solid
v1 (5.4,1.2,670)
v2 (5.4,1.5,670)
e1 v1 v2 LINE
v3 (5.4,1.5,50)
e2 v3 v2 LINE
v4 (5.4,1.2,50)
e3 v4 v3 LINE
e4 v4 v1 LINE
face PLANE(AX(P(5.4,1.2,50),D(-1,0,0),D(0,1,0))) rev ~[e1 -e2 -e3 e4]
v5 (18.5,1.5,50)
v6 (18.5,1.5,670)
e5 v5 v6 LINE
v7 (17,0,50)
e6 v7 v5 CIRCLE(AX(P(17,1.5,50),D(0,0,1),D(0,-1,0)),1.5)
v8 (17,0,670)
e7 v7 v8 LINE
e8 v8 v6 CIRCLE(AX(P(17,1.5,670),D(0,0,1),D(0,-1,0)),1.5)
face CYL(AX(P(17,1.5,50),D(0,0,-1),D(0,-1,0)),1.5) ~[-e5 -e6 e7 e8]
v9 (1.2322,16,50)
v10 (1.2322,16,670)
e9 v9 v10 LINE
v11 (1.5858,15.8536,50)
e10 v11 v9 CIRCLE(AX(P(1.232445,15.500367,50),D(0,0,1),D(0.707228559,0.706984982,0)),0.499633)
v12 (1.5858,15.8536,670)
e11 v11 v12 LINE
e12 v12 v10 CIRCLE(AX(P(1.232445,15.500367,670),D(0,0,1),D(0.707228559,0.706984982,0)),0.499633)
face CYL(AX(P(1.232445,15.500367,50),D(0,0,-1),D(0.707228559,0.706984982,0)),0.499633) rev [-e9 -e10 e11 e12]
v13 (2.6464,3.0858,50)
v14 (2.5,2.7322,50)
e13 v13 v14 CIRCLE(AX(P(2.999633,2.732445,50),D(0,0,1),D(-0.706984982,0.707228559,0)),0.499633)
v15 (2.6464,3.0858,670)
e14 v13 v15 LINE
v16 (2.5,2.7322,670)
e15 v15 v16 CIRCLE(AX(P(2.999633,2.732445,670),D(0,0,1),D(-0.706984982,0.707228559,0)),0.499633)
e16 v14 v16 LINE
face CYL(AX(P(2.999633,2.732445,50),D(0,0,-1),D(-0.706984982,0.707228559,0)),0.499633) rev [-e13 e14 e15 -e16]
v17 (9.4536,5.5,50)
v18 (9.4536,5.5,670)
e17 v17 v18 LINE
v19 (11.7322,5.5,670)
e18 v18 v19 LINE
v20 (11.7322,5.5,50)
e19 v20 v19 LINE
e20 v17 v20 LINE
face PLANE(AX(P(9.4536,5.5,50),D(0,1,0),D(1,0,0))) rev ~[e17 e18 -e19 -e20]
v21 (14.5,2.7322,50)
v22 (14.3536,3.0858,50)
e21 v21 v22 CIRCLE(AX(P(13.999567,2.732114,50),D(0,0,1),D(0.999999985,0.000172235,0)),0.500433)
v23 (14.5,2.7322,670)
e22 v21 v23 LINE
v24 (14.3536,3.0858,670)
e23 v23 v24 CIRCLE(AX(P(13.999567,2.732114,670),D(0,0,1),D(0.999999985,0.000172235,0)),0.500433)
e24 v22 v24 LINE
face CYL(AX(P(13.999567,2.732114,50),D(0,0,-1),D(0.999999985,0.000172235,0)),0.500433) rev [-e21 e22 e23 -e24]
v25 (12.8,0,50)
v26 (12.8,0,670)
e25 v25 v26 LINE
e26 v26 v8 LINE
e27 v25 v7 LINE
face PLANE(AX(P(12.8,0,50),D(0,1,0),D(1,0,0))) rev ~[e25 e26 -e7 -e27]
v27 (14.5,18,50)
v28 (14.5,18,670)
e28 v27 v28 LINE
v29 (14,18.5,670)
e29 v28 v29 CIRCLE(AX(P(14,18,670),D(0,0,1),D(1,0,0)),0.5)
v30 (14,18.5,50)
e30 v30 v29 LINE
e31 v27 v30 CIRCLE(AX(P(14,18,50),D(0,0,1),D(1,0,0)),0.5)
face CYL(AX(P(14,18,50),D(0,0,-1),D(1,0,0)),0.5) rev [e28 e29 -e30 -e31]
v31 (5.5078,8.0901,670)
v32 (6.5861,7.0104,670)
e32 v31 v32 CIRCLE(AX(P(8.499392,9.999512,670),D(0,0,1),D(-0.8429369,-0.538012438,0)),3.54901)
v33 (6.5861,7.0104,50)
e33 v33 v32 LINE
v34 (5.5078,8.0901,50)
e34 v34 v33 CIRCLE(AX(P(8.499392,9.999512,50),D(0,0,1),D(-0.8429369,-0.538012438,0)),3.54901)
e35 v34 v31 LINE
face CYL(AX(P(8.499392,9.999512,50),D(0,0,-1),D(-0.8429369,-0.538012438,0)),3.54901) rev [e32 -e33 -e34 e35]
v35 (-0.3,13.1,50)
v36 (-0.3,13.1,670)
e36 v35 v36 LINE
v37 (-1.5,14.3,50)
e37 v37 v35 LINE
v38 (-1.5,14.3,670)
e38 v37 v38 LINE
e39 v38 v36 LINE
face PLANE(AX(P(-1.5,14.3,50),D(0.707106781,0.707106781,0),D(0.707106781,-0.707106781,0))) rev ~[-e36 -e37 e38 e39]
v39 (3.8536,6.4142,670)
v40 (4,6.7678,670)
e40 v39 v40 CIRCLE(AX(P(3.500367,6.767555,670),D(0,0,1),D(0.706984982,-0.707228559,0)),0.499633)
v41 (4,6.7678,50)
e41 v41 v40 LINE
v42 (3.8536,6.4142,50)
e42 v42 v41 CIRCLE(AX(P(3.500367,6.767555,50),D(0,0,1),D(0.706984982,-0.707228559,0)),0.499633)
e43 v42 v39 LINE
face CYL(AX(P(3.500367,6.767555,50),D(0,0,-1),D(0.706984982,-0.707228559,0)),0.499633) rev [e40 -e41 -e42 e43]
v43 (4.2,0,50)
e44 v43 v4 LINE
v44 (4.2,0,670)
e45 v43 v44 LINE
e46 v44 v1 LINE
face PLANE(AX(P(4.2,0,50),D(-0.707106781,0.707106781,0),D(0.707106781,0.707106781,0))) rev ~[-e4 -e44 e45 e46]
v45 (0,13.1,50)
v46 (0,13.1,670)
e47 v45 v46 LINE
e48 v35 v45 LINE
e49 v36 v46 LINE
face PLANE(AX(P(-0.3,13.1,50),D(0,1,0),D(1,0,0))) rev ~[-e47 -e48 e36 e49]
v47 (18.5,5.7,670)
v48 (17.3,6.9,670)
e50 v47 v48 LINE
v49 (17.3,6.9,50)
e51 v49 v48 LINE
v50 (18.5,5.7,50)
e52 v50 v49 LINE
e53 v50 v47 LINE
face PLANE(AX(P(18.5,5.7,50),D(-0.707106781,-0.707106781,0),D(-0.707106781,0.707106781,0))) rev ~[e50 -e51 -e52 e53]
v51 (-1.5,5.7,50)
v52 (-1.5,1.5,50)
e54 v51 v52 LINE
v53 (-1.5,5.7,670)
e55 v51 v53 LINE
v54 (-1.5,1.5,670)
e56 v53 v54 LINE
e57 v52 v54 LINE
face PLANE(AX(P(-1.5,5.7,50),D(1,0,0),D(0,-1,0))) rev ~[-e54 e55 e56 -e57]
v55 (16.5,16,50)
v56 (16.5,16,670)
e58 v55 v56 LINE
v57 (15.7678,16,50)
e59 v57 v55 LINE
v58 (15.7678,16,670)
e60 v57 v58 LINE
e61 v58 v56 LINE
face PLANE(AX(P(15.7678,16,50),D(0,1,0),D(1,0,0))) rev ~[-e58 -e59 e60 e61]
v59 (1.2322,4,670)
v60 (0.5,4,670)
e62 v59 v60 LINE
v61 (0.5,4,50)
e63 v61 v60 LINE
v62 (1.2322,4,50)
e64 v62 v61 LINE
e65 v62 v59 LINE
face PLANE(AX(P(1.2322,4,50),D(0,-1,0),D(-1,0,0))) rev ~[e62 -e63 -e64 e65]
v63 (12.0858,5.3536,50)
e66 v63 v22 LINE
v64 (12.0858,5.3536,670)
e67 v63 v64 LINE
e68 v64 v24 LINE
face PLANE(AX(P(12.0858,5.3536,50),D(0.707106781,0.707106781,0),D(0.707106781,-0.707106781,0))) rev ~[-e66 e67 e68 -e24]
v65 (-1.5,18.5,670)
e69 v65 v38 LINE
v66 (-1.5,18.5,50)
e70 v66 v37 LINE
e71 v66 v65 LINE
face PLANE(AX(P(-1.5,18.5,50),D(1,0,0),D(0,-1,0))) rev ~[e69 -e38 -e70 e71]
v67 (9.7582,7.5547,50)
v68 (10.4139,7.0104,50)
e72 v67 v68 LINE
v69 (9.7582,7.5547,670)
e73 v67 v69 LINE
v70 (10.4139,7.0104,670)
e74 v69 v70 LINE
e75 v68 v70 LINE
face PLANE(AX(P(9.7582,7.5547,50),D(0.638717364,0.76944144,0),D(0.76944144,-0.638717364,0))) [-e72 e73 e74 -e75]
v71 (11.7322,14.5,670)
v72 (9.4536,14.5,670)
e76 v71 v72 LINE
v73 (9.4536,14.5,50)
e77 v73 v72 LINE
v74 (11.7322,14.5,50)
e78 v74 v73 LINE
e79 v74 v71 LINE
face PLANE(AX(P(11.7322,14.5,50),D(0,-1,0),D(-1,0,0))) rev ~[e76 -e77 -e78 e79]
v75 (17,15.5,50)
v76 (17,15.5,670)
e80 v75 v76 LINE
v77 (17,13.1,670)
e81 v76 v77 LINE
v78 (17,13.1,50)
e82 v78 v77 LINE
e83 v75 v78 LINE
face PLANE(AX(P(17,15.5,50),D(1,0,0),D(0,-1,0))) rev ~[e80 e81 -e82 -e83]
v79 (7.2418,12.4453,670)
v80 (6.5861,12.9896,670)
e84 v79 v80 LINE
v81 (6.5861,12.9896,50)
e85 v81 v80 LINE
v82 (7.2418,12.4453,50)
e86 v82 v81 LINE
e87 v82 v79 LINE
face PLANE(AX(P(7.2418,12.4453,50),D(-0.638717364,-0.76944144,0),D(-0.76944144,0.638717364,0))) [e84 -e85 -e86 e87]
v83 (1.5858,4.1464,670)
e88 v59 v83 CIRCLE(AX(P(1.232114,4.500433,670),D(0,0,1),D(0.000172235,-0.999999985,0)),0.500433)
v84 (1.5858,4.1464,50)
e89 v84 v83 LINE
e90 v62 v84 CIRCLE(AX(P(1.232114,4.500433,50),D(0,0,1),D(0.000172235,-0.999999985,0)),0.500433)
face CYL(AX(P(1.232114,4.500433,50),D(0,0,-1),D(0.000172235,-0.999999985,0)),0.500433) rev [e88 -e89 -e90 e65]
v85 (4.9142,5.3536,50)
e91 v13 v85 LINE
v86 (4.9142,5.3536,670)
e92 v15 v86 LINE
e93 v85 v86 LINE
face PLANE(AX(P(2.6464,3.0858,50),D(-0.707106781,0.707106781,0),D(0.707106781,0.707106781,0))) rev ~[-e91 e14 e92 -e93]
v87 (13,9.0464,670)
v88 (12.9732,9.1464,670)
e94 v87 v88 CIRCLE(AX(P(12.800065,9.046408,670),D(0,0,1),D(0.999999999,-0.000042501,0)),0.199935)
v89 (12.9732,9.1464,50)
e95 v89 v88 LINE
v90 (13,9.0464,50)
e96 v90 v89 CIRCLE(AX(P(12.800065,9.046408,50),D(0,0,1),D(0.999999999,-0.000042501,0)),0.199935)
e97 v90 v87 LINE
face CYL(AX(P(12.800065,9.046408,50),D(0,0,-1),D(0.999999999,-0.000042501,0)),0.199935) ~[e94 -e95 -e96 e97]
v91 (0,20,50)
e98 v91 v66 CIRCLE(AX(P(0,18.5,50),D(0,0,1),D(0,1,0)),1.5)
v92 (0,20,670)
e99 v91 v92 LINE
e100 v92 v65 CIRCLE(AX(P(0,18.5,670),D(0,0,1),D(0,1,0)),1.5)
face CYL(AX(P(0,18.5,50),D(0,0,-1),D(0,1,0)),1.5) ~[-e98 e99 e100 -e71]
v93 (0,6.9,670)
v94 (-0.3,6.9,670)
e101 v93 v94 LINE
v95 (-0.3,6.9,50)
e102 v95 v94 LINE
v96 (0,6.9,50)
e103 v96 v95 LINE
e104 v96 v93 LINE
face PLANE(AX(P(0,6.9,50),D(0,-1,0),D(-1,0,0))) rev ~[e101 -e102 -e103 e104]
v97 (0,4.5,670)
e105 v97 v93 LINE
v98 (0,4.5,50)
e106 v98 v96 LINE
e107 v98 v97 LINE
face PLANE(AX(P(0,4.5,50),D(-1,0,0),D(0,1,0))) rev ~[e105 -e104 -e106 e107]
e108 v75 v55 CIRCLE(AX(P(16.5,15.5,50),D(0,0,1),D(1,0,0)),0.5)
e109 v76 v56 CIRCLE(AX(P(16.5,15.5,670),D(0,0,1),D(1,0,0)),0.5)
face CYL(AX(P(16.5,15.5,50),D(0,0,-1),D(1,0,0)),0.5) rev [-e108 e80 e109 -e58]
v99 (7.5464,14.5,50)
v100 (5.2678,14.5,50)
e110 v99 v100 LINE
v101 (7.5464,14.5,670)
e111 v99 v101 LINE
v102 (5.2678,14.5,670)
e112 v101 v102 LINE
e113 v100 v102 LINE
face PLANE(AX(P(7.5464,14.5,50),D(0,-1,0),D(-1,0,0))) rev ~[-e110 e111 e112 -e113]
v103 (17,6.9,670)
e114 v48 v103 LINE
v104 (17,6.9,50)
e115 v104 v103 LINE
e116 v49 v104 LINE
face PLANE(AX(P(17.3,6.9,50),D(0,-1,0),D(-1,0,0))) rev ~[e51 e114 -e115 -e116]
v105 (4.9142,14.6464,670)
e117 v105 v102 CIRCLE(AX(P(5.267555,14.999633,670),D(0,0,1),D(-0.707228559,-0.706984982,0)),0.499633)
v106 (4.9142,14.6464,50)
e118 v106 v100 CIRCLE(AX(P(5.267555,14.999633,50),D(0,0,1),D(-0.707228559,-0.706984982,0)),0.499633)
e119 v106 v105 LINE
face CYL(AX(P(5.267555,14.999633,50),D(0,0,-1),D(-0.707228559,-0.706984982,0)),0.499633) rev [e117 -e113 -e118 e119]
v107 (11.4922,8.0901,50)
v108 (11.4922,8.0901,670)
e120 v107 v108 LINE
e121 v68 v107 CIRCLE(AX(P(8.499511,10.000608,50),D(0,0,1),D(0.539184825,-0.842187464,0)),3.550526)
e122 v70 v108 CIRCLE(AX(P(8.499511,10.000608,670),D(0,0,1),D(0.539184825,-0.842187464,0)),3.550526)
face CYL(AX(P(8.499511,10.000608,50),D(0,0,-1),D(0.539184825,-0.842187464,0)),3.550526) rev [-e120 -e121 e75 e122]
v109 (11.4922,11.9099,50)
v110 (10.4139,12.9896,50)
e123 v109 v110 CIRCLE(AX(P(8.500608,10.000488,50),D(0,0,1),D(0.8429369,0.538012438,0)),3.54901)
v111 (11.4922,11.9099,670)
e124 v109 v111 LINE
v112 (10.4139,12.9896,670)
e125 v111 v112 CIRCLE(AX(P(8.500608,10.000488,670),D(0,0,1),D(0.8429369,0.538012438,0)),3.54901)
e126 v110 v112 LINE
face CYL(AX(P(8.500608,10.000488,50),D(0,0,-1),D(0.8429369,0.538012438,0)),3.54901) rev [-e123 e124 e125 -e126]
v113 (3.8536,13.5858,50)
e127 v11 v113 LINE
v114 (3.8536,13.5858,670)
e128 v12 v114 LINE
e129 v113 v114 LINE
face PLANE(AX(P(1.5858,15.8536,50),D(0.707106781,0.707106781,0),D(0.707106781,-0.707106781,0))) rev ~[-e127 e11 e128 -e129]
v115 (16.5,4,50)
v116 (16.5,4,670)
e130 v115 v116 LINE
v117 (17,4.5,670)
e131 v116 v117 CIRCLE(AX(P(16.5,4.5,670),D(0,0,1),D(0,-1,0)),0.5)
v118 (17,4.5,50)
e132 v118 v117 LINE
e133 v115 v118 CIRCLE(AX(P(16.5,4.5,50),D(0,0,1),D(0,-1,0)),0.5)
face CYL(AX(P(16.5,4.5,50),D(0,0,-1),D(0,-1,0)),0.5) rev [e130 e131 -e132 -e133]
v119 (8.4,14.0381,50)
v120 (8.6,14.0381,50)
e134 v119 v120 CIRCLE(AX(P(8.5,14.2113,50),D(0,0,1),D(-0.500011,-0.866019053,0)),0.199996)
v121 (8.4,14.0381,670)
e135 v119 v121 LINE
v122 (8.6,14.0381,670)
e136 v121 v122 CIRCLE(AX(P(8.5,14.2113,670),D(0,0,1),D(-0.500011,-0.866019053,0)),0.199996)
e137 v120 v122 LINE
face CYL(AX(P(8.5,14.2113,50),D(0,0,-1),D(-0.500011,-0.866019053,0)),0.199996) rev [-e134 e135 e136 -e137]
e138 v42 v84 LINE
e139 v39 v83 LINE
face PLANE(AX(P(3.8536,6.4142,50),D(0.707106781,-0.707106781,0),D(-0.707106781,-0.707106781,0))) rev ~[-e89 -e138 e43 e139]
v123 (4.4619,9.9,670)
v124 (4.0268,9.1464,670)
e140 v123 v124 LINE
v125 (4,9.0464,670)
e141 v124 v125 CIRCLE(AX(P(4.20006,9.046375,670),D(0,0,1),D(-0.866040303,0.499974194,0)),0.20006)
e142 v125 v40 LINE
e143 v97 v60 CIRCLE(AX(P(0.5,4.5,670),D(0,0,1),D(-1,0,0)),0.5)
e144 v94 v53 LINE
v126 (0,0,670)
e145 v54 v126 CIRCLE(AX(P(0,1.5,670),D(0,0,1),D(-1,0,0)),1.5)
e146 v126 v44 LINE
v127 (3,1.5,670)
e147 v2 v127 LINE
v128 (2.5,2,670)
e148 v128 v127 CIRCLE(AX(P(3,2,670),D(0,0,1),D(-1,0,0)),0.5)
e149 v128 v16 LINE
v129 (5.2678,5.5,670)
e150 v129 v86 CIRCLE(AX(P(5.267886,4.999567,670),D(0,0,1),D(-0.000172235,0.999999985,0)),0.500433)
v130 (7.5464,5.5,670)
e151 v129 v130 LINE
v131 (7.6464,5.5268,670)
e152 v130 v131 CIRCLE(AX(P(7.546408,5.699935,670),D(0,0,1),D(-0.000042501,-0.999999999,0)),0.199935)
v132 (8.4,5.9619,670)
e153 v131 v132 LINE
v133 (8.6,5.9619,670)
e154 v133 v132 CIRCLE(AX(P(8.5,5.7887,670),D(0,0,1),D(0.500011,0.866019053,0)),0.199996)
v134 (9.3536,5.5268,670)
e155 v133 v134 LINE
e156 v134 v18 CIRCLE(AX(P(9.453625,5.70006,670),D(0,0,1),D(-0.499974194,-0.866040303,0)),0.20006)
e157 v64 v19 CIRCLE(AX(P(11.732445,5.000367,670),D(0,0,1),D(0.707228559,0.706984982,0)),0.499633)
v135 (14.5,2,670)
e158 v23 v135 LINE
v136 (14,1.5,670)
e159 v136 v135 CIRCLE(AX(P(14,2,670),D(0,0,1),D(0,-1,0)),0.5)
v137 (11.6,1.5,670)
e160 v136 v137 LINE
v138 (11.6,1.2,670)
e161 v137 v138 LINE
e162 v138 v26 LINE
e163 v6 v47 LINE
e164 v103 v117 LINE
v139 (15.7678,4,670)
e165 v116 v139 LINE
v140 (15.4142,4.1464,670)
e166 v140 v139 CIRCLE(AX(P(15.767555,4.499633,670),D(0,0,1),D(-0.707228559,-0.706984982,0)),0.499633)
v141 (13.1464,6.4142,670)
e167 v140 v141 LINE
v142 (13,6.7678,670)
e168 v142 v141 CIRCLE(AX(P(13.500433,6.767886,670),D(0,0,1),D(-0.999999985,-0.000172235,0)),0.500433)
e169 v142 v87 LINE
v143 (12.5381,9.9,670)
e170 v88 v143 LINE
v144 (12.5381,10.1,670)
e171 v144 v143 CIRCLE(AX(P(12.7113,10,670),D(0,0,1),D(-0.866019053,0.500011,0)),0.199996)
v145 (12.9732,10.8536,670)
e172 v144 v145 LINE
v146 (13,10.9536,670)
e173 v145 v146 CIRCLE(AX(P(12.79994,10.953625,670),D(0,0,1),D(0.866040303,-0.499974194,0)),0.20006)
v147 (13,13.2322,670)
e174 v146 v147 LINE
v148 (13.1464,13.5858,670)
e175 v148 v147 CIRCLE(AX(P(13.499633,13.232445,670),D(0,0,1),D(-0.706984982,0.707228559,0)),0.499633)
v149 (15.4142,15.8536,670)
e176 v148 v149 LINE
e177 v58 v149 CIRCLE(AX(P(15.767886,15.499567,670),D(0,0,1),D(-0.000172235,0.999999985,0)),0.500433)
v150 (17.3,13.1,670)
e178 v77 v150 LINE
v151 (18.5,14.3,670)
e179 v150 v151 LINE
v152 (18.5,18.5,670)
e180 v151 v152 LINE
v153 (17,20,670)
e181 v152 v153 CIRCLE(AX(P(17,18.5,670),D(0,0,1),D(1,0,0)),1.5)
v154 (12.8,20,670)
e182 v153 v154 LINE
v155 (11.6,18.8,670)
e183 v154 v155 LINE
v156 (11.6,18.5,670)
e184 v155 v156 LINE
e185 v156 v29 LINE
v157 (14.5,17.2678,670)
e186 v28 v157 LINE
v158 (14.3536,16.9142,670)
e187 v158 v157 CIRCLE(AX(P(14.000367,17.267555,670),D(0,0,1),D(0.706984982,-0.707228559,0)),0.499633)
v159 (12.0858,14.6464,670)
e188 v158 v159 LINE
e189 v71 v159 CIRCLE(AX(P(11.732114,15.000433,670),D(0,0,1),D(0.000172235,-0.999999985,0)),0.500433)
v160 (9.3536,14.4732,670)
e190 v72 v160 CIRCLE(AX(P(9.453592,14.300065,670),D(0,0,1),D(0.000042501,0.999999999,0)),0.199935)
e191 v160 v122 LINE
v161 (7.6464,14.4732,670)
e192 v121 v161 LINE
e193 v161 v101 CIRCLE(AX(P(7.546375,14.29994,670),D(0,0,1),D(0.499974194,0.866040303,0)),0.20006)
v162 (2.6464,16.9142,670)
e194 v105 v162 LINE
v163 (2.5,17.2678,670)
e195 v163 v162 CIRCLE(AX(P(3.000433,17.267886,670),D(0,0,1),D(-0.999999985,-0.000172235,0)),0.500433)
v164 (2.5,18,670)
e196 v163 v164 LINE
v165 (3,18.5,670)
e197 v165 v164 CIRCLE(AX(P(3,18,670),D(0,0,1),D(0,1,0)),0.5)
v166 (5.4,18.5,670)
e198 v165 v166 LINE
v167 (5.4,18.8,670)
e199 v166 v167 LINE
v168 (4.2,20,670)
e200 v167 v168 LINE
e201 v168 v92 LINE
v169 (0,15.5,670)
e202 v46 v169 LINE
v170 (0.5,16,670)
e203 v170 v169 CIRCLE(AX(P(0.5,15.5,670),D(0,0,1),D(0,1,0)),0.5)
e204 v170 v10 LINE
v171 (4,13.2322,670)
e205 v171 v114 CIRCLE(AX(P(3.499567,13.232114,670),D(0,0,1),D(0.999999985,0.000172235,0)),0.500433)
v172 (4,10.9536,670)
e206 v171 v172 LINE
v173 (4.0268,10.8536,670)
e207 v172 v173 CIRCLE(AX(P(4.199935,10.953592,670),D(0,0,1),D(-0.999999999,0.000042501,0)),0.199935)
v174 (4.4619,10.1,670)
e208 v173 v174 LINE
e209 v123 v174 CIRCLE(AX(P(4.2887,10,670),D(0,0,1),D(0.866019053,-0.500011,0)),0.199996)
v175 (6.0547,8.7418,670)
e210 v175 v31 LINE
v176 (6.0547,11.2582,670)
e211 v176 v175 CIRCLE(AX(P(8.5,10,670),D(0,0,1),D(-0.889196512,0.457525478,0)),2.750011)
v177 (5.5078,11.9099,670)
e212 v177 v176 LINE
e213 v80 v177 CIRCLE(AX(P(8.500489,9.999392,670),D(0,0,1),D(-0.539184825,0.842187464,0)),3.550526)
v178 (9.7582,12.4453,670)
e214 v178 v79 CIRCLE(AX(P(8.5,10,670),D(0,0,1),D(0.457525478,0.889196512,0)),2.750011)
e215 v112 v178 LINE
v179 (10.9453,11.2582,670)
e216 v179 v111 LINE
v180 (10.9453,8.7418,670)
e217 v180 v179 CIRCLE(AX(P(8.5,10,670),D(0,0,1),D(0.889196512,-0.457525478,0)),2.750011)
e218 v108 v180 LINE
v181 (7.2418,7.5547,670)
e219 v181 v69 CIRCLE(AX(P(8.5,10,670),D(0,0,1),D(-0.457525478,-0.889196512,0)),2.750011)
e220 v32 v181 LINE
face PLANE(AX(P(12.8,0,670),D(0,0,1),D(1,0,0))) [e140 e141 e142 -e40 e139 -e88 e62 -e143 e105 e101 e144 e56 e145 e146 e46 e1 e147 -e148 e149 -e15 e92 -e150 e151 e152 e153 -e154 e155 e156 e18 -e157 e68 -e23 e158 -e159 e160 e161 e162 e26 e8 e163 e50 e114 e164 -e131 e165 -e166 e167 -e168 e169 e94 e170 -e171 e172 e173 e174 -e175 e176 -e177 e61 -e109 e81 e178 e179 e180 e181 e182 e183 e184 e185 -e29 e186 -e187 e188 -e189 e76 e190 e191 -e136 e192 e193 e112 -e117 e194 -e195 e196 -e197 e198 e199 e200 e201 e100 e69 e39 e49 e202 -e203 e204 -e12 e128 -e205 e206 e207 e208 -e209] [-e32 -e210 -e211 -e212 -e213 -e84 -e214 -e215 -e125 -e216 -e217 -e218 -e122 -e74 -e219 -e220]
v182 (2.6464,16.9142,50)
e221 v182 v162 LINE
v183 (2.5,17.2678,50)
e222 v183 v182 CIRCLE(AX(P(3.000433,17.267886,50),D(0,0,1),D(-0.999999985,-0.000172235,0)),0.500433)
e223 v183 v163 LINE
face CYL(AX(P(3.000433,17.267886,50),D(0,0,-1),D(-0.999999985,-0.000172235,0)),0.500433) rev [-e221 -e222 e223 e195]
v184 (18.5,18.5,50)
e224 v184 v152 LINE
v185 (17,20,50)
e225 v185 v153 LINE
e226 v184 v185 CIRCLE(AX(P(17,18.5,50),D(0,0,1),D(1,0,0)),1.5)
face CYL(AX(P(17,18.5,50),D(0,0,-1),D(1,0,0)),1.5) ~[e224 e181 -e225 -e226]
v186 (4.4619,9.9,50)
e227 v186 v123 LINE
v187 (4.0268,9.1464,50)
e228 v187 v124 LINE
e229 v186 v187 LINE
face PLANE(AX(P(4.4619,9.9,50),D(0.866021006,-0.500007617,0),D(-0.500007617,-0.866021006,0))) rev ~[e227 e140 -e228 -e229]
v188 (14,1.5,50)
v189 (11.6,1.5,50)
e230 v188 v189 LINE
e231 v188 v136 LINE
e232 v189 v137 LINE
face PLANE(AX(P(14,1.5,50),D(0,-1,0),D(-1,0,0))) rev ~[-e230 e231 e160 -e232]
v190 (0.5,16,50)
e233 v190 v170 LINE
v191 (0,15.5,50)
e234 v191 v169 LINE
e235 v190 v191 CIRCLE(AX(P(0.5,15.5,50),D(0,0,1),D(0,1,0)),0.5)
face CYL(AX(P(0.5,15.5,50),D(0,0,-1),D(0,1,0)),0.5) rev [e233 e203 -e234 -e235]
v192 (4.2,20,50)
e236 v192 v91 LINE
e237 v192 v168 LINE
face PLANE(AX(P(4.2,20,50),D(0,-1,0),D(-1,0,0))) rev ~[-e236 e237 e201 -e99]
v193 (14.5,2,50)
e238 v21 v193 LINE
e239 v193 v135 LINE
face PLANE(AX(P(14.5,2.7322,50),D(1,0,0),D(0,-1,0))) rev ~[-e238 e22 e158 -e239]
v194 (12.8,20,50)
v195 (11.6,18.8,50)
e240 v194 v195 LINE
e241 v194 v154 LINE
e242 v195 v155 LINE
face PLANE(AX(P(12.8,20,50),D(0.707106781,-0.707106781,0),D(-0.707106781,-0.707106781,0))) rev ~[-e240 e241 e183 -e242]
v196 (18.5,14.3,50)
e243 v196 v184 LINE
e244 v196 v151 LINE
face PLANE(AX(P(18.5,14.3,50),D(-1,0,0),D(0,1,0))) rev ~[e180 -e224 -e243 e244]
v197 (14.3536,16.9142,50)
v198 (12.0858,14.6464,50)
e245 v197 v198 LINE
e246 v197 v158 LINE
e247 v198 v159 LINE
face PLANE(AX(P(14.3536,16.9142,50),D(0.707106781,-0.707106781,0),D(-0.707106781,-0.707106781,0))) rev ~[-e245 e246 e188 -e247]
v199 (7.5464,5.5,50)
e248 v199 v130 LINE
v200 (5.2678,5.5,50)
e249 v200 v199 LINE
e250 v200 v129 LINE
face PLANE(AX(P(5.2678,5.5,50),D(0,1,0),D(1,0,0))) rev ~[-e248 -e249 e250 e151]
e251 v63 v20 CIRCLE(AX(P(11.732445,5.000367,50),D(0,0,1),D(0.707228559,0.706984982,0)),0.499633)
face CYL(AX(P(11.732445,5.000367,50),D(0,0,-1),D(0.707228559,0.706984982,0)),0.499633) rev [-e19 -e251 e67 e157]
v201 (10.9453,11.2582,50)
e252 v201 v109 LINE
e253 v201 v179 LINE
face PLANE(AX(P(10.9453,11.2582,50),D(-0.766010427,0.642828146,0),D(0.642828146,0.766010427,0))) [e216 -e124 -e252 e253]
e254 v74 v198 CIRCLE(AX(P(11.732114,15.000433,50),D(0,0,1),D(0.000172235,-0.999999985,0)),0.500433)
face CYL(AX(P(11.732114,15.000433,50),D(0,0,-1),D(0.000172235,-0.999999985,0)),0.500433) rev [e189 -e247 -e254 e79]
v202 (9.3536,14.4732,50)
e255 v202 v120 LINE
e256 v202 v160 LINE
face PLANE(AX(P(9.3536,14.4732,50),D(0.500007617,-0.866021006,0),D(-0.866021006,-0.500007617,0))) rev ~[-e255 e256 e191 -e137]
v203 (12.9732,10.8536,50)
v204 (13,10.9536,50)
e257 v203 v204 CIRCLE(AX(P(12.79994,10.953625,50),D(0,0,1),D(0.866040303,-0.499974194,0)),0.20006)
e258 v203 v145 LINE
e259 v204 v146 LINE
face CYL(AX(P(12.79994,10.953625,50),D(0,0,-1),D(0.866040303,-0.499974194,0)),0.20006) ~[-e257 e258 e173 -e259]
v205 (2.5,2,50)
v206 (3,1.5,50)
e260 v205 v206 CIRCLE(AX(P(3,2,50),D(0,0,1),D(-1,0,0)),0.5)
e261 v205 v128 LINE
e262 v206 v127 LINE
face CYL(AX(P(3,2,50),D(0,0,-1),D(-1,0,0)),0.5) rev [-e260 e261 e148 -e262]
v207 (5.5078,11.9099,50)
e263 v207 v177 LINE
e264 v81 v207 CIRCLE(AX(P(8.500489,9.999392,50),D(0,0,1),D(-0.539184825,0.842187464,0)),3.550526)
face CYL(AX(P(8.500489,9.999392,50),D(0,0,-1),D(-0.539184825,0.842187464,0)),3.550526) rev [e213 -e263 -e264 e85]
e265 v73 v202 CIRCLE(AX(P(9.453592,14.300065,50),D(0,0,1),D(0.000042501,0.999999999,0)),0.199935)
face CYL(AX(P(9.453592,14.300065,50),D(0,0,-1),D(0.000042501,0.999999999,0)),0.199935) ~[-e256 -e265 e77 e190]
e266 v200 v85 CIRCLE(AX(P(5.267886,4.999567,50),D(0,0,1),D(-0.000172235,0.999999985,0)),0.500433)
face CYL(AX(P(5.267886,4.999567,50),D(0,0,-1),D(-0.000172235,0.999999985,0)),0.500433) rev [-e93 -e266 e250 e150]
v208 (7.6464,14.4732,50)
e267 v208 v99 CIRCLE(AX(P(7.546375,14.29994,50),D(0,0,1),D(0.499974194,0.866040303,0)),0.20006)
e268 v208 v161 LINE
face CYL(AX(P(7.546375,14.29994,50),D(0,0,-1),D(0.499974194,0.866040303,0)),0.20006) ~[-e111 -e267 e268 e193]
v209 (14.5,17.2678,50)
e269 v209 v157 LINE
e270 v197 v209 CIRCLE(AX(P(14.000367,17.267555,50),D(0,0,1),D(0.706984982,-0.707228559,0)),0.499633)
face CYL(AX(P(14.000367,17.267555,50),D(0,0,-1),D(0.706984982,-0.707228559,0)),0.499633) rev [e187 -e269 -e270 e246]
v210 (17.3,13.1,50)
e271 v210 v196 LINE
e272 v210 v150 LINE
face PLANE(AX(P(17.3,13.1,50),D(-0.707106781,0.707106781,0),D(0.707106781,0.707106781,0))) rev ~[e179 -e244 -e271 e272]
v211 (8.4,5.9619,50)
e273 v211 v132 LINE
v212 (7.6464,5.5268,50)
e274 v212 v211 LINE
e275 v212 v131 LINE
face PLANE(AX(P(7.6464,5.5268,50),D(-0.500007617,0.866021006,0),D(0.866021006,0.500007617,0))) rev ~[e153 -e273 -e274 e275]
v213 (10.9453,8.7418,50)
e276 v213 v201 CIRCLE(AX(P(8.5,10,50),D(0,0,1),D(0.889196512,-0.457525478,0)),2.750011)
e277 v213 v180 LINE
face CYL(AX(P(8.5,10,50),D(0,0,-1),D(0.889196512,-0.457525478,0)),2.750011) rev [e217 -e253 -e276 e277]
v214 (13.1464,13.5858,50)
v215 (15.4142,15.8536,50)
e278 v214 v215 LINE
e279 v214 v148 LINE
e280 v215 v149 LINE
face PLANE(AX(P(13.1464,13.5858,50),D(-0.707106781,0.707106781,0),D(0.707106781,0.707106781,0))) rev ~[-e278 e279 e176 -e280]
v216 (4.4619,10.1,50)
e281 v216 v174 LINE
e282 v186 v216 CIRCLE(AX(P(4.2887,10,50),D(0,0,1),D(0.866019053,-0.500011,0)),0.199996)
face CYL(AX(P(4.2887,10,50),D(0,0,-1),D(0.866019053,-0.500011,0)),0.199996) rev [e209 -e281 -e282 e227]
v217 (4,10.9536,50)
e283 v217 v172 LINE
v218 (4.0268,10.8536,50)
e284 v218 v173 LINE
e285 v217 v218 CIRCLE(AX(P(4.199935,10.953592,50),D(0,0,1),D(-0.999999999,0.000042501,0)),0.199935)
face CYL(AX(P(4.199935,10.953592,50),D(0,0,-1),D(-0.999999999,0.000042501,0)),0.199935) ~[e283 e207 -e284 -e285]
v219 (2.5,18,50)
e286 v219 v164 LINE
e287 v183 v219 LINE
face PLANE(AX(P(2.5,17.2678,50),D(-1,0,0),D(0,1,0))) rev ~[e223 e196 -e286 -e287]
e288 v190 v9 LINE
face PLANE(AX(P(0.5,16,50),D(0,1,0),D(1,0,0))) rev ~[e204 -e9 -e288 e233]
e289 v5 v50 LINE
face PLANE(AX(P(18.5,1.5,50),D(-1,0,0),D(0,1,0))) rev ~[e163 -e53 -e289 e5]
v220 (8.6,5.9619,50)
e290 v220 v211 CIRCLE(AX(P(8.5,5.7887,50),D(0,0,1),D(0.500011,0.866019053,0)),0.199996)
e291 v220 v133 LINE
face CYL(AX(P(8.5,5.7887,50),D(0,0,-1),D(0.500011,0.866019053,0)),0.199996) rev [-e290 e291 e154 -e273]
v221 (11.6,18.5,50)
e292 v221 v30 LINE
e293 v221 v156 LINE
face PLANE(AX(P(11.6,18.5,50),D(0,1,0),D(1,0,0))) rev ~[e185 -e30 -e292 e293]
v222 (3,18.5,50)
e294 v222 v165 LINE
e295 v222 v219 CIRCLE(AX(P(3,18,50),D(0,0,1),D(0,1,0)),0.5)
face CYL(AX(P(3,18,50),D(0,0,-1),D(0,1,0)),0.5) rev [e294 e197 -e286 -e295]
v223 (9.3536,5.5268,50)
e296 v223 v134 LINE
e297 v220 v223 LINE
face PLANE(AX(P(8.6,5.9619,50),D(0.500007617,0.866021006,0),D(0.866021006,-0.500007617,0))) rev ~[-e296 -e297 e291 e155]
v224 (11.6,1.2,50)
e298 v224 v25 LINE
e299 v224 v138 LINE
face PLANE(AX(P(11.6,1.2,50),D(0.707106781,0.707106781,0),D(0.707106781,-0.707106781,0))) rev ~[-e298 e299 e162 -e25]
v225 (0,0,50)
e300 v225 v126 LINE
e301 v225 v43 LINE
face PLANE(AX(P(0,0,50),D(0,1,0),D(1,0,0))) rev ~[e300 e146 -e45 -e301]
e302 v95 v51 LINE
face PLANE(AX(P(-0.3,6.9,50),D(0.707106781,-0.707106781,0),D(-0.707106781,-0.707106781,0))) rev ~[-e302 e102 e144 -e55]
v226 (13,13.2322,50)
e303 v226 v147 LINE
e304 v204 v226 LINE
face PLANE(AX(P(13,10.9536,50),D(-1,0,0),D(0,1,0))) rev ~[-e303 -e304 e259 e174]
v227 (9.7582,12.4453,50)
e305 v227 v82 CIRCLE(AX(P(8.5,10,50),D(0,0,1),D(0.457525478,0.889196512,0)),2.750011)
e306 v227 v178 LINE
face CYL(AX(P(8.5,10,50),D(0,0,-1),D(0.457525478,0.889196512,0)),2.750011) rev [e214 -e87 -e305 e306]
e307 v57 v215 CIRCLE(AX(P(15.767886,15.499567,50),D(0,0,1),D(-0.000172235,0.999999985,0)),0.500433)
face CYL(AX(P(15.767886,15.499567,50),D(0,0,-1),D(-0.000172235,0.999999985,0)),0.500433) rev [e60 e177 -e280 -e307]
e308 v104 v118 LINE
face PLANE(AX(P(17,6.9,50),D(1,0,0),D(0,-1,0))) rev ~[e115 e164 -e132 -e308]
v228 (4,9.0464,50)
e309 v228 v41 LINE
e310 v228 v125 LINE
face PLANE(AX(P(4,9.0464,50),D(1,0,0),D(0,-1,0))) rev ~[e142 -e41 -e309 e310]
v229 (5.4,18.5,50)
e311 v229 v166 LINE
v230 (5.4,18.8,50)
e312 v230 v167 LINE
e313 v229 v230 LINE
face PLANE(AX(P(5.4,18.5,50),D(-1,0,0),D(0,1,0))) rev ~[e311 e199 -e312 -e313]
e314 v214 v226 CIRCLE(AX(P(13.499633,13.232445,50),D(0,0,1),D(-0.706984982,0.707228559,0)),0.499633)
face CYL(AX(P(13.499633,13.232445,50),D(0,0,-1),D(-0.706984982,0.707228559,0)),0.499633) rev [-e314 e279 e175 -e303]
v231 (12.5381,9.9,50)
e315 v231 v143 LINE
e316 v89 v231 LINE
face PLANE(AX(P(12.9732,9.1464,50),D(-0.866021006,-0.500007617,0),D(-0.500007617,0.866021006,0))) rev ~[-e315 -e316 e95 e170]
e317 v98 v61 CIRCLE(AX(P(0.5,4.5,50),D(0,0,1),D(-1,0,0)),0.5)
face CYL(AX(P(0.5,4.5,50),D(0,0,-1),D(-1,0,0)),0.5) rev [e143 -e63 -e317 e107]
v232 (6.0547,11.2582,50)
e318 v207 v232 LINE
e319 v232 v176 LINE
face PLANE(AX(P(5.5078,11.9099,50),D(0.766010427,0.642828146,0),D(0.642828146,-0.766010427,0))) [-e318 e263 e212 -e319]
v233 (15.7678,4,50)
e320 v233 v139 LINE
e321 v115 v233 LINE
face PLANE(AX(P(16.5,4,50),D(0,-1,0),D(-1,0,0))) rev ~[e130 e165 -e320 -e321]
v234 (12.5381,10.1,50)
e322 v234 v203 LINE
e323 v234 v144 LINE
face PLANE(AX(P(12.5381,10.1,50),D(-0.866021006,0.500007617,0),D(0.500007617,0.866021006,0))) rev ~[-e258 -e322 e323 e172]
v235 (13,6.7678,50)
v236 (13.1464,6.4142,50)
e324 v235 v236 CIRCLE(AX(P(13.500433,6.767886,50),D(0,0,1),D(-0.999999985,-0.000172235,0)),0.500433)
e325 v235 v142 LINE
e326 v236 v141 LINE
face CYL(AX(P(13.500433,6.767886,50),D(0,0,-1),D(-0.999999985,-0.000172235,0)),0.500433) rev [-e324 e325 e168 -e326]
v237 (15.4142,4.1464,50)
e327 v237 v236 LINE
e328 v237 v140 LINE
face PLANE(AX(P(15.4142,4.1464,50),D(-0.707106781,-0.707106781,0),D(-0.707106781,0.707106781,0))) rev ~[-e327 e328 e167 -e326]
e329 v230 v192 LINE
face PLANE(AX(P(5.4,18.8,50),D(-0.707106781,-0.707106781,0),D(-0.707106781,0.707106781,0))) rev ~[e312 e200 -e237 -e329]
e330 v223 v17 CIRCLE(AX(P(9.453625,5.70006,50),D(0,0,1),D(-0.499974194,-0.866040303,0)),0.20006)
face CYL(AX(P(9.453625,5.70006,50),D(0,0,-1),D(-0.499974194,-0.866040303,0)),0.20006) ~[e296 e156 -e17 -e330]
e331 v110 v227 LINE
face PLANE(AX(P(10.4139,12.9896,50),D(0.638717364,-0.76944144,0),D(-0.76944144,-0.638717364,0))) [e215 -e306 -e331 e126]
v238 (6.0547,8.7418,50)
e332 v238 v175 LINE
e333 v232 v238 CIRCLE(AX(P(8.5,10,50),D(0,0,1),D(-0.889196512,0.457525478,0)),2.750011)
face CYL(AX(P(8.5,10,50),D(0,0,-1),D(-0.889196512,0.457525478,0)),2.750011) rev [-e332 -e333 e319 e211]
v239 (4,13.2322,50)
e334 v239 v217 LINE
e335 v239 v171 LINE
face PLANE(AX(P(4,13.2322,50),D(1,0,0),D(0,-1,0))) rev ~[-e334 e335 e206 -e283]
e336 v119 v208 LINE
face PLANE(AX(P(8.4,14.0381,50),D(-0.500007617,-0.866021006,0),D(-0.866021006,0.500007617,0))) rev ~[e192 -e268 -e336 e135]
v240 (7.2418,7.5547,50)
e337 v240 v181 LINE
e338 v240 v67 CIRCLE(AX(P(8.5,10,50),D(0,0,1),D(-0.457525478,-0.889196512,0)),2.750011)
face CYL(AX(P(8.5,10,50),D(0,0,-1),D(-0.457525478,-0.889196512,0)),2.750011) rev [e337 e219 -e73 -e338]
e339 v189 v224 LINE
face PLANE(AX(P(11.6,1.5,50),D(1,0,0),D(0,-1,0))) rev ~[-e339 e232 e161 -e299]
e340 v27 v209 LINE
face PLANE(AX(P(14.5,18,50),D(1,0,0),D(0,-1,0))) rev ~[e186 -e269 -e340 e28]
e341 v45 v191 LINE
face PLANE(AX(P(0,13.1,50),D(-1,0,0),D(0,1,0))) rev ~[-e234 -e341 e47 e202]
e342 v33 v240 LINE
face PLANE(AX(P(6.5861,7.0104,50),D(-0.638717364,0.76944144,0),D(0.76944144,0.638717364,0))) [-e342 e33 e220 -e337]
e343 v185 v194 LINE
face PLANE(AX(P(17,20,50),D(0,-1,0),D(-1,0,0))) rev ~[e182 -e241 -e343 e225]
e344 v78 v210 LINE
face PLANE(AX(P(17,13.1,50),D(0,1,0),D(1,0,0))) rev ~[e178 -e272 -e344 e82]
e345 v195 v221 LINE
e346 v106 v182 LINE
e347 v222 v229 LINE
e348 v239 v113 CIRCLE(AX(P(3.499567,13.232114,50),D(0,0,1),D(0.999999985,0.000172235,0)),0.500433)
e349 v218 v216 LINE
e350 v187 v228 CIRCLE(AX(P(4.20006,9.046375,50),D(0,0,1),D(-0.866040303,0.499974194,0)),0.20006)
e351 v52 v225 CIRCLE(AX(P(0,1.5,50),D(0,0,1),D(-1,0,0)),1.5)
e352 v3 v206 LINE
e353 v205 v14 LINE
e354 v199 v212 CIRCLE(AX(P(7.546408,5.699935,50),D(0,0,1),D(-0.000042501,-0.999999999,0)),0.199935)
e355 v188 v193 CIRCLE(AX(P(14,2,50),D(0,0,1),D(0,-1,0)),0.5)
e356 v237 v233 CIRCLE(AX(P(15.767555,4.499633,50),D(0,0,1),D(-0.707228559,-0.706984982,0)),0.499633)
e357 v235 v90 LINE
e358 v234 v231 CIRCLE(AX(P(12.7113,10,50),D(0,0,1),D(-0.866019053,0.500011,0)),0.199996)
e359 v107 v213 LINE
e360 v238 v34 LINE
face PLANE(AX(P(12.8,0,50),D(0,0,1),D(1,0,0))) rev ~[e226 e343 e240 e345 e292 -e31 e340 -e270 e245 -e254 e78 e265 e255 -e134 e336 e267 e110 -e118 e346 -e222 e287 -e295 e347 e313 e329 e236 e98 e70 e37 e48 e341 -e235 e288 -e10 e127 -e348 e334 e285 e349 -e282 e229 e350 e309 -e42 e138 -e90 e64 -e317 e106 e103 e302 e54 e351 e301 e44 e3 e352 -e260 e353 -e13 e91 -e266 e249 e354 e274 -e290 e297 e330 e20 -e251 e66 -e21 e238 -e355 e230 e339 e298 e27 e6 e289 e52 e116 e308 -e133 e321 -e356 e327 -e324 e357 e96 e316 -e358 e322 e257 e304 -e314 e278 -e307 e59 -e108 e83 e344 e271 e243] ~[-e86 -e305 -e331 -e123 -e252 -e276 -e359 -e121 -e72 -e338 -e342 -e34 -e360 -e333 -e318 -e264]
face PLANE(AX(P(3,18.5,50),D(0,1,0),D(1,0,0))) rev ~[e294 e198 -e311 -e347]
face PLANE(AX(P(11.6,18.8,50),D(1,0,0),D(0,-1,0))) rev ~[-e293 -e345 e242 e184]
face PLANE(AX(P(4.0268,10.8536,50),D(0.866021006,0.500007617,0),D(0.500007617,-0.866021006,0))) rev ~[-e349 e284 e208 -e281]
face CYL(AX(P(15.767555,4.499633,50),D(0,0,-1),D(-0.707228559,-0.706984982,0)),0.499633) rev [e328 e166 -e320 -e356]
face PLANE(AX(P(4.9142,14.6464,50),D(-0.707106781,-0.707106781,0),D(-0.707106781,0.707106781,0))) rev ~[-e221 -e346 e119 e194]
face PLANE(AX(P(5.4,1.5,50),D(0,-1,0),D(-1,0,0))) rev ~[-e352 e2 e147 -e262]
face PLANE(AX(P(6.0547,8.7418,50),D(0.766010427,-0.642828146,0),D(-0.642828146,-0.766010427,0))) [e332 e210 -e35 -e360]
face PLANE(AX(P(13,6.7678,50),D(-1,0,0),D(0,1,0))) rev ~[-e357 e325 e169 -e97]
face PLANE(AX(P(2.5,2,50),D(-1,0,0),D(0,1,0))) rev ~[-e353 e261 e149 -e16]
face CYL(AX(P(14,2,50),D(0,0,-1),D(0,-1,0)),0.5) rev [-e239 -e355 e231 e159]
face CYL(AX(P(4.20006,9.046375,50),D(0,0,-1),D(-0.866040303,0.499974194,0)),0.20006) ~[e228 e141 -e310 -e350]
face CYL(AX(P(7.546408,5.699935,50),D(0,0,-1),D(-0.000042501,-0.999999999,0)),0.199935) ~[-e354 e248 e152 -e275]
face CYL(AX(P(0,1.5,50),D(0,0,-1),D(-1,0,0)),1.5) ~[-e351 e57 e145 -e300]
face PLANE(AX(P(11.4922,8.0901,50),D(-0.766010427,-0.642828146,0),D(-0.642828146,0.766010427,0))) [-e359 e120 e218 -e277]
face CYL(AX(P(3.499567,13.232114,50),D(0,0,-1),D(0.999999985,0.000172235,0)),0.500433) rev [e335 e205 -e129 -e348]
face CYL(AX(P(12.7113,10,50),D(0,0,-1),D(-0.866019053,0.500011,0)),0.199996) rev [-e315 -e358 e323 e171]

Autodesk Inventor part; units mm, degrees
ref_plane "Work Plane5" through (12.8, 0, 50) normal (0, 0, 1) x (1, 0, 0)
sketch "Sketch" plane through (12.8, 0, 50) normal (0, 0, 1) x (1, 0, 0)
  arc A0 (1.7, 2.7322) -> (1.5536, 3.0858) centre (1.2, 2.7322) ccw
  line L0 (1.7, 2.7322) -> (1.7, 2)
  arc A1 (1.2, 1.5) -> (1.7, 2) centre (1.2, 2) ccw
  line L1 (1.2, 1.5) -> (-1.2, 1.5)
  line L2 (-1.2, 1.5) -> (-1.2, 1.2)
  line L3 (-1.2, 1.2) -> (0, 0)
  line L4 (0, 0) -> (4.2, 0)
  arc A2 (4.2, 0) -> (5.7, 1.5) centre (4.2, 1.5) ccw
  line L5 (5.7, 1.5) -> (5.7, 5.7)
  line L6 (5.7, 5.7) -> (4.5, 6.9)
  line L7 (4.5, 6.9) -> (4.2, 6.9)
  line L8 (4.2, 6.9) -> (4.2, 4.5)
  arc A3 (3.7, 4) -> (4.2, 4.5) centre (3.7, 4.5) ccw
  line L9 (3.7, 4) -> (2.9678, 4)
  arc A4 (2.6142, 4.1464) -> (2.9678, 4) centre (2.9678, 4.5) ccw
  line L10 (2.6142, 4.1464) -> (0.3464, 6.4142)
  arc A5 (0.2, 6.7678) -> (0.3464, 6.4142) centre (0.7, 6.7678) ccw
  line L11 (0.2, 6.7678) -> (0.2, 9.0464)
  arc A6 (0.2, 9.0464) -> (0.1732, 9.1464) centre (0, 9.0464) ccw
  line L12 (0.1732, 9.1464) -> (-0.2619, 9.9)
  arc A7 (-0.2619, 10.1) -> (-0.2619, 9.9) centre (-0.0887, 10) ccw
  line L13 (-0.2619, 10.1) -> (0.1732, 10.8536)
  arc A8 (0.1732, 10.8536) -> (0.2, 10.9536) centre (0, 10.9536) ccw
  line L14 (0.2, 10.9536) -> (0.2, 13.2322)
  arc A9 (0.3464, 13.5858) -> (0.2, 13.2322) centre (0.7, 13.2322) ccw
  line L15 (0.3464, 13.5858) -> (2.6142, 15.8536)
  arc A10 (2.9678, 16) -> (2.6142, 15.8536) centre (2.9678, 15.5) ccw
  line L16 (2.9678, 16) -> (3.7, 16)
  arc A11 (4.2, 15.5) -> (3.7, 16) centre (3.7, 15.5) ccw
  line L17 (4.2, 15.5) -> (4.2, 13.1)
  line L18 (4.2, 13.1) -> (4.5, 13.1)
  line L19 (4.5, 13.1) -> (5.7, 14.3)
  line L20 (5.7, 14.3) -> (5.7, 18.5)
  arc A12 (5.7, 18.5) -> (4.2, 20) centre (4.2, 18.5) ccw
  line L21 (4.2, 20) -> (0, 20)
  line L22 (0, 20) -> (-1.2, 18.8)
  line L23 (-1.2, 18.8) -> (-1.2, 18.5)
  line L24 (-1.2, 18.5) -> (1.2, 18.5)
  arc A13 (1.7, 18) -> (1.2, 18.5) centre (1.2, 18) ccw
  line L25 (1.7, 18) -> (1.7, 17.2678)
  arc A14 (1.5536, 16.9142) -> (1.7, 17.2678) centre (1.2, 17.2678) ccw
  line L26 (1.5536, 16.9142) -> (-0.7142, 14.6464)
  arc A15 (-1.0678, 14.5) -> (-0.7142, 14.6464) centre (-1.0678, 15) ccw
  line L27 (-1.0678, 14.5) -> (-3.3464, 14.5)
  arc A16 (-3.3464, 14.5) -> (-3.4464, 14.4732) centre (-3.3464, 14.3) ccw
  line L28 (-3.4464, 14.4732) -> (-4.2, 14.0381)
  arc A17 (-4.4, 14.0381) -> (-4.2, 14.0381) centre (-4.3, 14.2113) ccw
  line L29 (-4.4, 14.0381) -> (-5.1536, 14.4732)
  arc A18 (-5.1536, 14.4732) -> (-5.2536, 14.5) centre (-5.2536, 14.3) ccw
  line L30 (-5.2536, 14.5) -> (-7.5322, 14.5)
  arc A19 (-7.8858, 14.6464) -> (-7.5322, 14.5) centre (-7.5322, 15) ccw
  line L31 (-7.8858, 14.6464) -> (-10.1536, 16.9142)
  arc A20 (-10.3, 17.2678) -> (-10.1536, 16.9142) centre (-9.8, 17.2678) ccw
  line L32 (-10.3, 17.2678) -> (-10.3, 18)
  arc A21 (-9.8, 18.5) -> (-10.3, 18) centre (-9.8, 18) ccw
  line L33 (-9.8, 18.5) -> (-7.4, 18.5)
  line L34 (-7.4, 18.5) -> (-7.4, 18.8)
  line L35 (-7.4, 18.8) -> (-8.6, 20)
  line L36 (-8.6, 20) -> (-12.8, 20)
  arc A22 (-12.8, 20) -> (-14.3, 18.5) centre (-12.8, 18.5) ccw
  line L37 (-14.3, 18.5) -> (-14.3, 14.3)
  line L38 (-14.3, 14.3) -> (-13.1, 13.1)
  line L39 (-13.1, 13.1) -> (-12.8, 13.1)
  line L40 (-12.8, 13.1) -> (-12.8, 15.5)
  arc A23 (-12.3, 16) -> (-12.8, 15.5) centre (-12.3, 15.5) ccw
  line L41 (-12.3, 16) -> (-11.5678, 16)
  arc A24 (-11.2142, 15.8536) -> (-11.5678, 16) centre (-11.5678, 15.5) ccw
  line L42 (-11.2142, 15.8536) -> (-8.9464, 13.5858)
  arc A25 (-8.8, 13.2322) -> (-8.9464, 13.5858) centre (-9.3, 13.2322) ccw
  line L43 (-8.8, 13.2322) -> (-8.8, 10.9536)
  arc A26 (-8.8, 10.9536) -> (-8.7732, 10.8536) centre (-8.6, 10.9536) ccw
  line L44 (-8.7732, 10.8536) -> (-8.3381, 10.1)
  arc A27 (-8.3381, 9.9) -> (-8.3381, 10.1) centre (-8.5113, 10) ccw
  line L45 (-8.3381, 9.9) -> (-8.7732, 9.1464)
  arc A28 (-8.7732, 9.1464) -> (-8.8, 9.0464) centre (-8.6, 9.0464) ccw
  line L46 (-8.8, 9.0464) -> (-8.8, 6.7678)
  arc A29 (-8.9464, 6.4142) -> (-8.8, 6.7678) centre (-9.3, 6.7678) ccw
  line L47 (-8.9464, 6.4142) -> (-11.2142, 4.1464)
  arc A30 (-11.5678, 4) -> (-11.2142, 4.1464) centre (-11.5678, 4.5) ccw
  line L48 (-11.5678, 4) -> (-12.3, 4)
  arc A31 (-12.8, 4.5) -> (-12.3, 4) centre (-12.3, 4.5) ccw
  line L49 (-12.8, 4.5) -> (-12.8, 6.9)
  line L50 (-12.8, 6.9) -> (-13.1, 6.9)
  line L51 (-13.1, 6.9) -> (-14.3, 5.7)
  line L52 (-14.3, 5.7) -> (-14.3, 1.5)
  arc A32 (-14.3, 1.5) -> (-12.8, 0) centre (-12.8, 1.5) ccw
  line L53 (-12.8, 0) -> (-8.6, 0)
  line L54 (-8.6, 0) -> (-7.4, 1.2)
  line L55 (-7.4, 1.2) -> (-7.4, 1.5)
  line L56 (-7.4, 1.5) -> (-9.8, 1.5)
  arc A33 (-10.3, 2) -> (-9.8, 1.5) centre (-9.8, 2) ccw
  line L57 (-10.3, 2) -> (-10.3, 2.7322)
  arc A34 (-10.1536, 3.0858) -> (-10.3, 2.7322) centre (-9.8, 2.7322) ccw
  line L58 (-10.1536, 3.0858) -> (-7.8858, 5.3536)
  arc A35 (-7.5322, 5.5) -> (-7.8858, 5.3536) centre (-7.5322, 5) ccw
  line L59 (-7.5322, 5.5) -> (-5.2536, 5.5)
  arc A36 (-5.2536, 5.5) -> (-5.1536, 5.5268) centre (-5.2536, 5.7) ccw
  line L60 (-5.1536, 5.5268) -> (-4.4, 5.9619)
  arc A37 (-4.2, 5.9619) -> (-4.4, 5.9619) centre (-4.3, 5.7887) ccw
  line L61 (-4.2, 5.9619) -> (-3.4464, 5.5268)
  arc A38 (-3.4464, 5.5268) -> (-3.3464, 5.5) centre (-3.3464, 5.7) ccw
  line L62 (-3.3464, 5.5) -> (-1.0678, 5.5)
  arc A39 (-0.7142, 5.3536) -> (-1.0678, 5.5) centre (-1.0678, 5) ccw
  line L63 (-0.7142, 5.3536) -> (1.5536, 3.0858)
  line L64 (-6.7453, 8.7418) -> (-7.2922, 8.0901)
  arc A40 (-6.7453, 11.2582) -> (-6.7453, 8.7418) centre (-4.3, 10) ccw
  line L65 (-7.2922, 11.9099) -> (-6.7453, 11.2582)
  arc A41 (-6.2139, 12.9896) -> (-7.2922, 11.9099) centre (-4.3, 10) ccw
  line L66 (-5.5582, 12.4453) -> (-6.2139, 12.9896)
  arc A42 (-3.0418, 12.4453) -> (-5.5582, 12.4453) centre (-4.3, 10) ccw
  line L67 (-2.3861, 12.9896) -> (-3.0418, 12.4453)
  arc A43 (-1.3078, 11.9099) -> (-2.3861, 12.9896) centre (-4.3, 10) ccw
  line L68 (-1.8547, 11.2582) -> (-1.3078, 11.9099)
  arc A44 (-1.8547, 8.7418) -> (-1.8547, 11.2582) centre (-4.3, 10) ccw
  line L69 (-1.3078, 8.0901) -> (-1.8547, 8.7418)
  arc A45 (-2.3861, 7.0104) -> (-1.3078, 8.0901) centre (-4.3, 10) ccw
  line L70 (-3.0418, 7.5547) -> (-2.3861, 7.0104)
  arc A46 (-5.5582, 7.5547) -> (-3.0418, 7.5547) centre (-4.3, 10) ccw
  line L71 (-6.2139, 7.0104) -> (-5.5582, 7.5547)
  arc A47 (-7.2922, 8.0901) -> (-6.2139, 7.0104) centre (-4.3, 10) ccw
ref_plane "Start Plane" through (12.8, 0, 50) normal (0, 0, 1) x (1, 0, 0)
ref_plane "End Plane" through (12.8, 0, 670) normal (0, 0, 1) x (1, 0, 0)
extrude "Body" add sketch "Sketch" along normal up to surface (620 mm away) from surface at 0
sketch "Sketch8" plane through (12.8, 0, 50) normal (0, 0, 1) x (1, 0, 0)
  line L0 (0, 0) -> (10, 0)
ref_plane "Work Plane10" through (12.8, 0, 50) normal (0, -1, 0) x (1, 0, 0)
sketch "Sketch9" plane through (12.8, 0, 50) normal (0, -1, 0) x (1, 0, 0)
  line L0 (-2, 0) -> (12, 0)
  line L1 (-2, 620) -> (12, 620)
  dimension "d16" = 620
ref_plane "Work Plane11" through (8.5, -714, 50) normal (0, 0, -1) x (-1, 0, 0)
split "Split1" plane through (8.5, -714, 50) removes the side toward (0, 0, -1)
ref_plane "Work Plane12" through (8.5, 20, 670) normal (0, 0, 1) x (1, 0, 0)
split "Split2" plane through (8.5, 20, 670) removes the side toward (0, 0, 1)
equation "\"G_OFFSET_START\" = 0"
equation "\"G_OFFSET_END\" = 0"
equation "\"G_L\" = d16"
equation "\"G_OFFSET_START1\" = 0"
equation "\"G_OFFSET_END1\" = 0"
properties part number "2020 V-slot 100mm"
